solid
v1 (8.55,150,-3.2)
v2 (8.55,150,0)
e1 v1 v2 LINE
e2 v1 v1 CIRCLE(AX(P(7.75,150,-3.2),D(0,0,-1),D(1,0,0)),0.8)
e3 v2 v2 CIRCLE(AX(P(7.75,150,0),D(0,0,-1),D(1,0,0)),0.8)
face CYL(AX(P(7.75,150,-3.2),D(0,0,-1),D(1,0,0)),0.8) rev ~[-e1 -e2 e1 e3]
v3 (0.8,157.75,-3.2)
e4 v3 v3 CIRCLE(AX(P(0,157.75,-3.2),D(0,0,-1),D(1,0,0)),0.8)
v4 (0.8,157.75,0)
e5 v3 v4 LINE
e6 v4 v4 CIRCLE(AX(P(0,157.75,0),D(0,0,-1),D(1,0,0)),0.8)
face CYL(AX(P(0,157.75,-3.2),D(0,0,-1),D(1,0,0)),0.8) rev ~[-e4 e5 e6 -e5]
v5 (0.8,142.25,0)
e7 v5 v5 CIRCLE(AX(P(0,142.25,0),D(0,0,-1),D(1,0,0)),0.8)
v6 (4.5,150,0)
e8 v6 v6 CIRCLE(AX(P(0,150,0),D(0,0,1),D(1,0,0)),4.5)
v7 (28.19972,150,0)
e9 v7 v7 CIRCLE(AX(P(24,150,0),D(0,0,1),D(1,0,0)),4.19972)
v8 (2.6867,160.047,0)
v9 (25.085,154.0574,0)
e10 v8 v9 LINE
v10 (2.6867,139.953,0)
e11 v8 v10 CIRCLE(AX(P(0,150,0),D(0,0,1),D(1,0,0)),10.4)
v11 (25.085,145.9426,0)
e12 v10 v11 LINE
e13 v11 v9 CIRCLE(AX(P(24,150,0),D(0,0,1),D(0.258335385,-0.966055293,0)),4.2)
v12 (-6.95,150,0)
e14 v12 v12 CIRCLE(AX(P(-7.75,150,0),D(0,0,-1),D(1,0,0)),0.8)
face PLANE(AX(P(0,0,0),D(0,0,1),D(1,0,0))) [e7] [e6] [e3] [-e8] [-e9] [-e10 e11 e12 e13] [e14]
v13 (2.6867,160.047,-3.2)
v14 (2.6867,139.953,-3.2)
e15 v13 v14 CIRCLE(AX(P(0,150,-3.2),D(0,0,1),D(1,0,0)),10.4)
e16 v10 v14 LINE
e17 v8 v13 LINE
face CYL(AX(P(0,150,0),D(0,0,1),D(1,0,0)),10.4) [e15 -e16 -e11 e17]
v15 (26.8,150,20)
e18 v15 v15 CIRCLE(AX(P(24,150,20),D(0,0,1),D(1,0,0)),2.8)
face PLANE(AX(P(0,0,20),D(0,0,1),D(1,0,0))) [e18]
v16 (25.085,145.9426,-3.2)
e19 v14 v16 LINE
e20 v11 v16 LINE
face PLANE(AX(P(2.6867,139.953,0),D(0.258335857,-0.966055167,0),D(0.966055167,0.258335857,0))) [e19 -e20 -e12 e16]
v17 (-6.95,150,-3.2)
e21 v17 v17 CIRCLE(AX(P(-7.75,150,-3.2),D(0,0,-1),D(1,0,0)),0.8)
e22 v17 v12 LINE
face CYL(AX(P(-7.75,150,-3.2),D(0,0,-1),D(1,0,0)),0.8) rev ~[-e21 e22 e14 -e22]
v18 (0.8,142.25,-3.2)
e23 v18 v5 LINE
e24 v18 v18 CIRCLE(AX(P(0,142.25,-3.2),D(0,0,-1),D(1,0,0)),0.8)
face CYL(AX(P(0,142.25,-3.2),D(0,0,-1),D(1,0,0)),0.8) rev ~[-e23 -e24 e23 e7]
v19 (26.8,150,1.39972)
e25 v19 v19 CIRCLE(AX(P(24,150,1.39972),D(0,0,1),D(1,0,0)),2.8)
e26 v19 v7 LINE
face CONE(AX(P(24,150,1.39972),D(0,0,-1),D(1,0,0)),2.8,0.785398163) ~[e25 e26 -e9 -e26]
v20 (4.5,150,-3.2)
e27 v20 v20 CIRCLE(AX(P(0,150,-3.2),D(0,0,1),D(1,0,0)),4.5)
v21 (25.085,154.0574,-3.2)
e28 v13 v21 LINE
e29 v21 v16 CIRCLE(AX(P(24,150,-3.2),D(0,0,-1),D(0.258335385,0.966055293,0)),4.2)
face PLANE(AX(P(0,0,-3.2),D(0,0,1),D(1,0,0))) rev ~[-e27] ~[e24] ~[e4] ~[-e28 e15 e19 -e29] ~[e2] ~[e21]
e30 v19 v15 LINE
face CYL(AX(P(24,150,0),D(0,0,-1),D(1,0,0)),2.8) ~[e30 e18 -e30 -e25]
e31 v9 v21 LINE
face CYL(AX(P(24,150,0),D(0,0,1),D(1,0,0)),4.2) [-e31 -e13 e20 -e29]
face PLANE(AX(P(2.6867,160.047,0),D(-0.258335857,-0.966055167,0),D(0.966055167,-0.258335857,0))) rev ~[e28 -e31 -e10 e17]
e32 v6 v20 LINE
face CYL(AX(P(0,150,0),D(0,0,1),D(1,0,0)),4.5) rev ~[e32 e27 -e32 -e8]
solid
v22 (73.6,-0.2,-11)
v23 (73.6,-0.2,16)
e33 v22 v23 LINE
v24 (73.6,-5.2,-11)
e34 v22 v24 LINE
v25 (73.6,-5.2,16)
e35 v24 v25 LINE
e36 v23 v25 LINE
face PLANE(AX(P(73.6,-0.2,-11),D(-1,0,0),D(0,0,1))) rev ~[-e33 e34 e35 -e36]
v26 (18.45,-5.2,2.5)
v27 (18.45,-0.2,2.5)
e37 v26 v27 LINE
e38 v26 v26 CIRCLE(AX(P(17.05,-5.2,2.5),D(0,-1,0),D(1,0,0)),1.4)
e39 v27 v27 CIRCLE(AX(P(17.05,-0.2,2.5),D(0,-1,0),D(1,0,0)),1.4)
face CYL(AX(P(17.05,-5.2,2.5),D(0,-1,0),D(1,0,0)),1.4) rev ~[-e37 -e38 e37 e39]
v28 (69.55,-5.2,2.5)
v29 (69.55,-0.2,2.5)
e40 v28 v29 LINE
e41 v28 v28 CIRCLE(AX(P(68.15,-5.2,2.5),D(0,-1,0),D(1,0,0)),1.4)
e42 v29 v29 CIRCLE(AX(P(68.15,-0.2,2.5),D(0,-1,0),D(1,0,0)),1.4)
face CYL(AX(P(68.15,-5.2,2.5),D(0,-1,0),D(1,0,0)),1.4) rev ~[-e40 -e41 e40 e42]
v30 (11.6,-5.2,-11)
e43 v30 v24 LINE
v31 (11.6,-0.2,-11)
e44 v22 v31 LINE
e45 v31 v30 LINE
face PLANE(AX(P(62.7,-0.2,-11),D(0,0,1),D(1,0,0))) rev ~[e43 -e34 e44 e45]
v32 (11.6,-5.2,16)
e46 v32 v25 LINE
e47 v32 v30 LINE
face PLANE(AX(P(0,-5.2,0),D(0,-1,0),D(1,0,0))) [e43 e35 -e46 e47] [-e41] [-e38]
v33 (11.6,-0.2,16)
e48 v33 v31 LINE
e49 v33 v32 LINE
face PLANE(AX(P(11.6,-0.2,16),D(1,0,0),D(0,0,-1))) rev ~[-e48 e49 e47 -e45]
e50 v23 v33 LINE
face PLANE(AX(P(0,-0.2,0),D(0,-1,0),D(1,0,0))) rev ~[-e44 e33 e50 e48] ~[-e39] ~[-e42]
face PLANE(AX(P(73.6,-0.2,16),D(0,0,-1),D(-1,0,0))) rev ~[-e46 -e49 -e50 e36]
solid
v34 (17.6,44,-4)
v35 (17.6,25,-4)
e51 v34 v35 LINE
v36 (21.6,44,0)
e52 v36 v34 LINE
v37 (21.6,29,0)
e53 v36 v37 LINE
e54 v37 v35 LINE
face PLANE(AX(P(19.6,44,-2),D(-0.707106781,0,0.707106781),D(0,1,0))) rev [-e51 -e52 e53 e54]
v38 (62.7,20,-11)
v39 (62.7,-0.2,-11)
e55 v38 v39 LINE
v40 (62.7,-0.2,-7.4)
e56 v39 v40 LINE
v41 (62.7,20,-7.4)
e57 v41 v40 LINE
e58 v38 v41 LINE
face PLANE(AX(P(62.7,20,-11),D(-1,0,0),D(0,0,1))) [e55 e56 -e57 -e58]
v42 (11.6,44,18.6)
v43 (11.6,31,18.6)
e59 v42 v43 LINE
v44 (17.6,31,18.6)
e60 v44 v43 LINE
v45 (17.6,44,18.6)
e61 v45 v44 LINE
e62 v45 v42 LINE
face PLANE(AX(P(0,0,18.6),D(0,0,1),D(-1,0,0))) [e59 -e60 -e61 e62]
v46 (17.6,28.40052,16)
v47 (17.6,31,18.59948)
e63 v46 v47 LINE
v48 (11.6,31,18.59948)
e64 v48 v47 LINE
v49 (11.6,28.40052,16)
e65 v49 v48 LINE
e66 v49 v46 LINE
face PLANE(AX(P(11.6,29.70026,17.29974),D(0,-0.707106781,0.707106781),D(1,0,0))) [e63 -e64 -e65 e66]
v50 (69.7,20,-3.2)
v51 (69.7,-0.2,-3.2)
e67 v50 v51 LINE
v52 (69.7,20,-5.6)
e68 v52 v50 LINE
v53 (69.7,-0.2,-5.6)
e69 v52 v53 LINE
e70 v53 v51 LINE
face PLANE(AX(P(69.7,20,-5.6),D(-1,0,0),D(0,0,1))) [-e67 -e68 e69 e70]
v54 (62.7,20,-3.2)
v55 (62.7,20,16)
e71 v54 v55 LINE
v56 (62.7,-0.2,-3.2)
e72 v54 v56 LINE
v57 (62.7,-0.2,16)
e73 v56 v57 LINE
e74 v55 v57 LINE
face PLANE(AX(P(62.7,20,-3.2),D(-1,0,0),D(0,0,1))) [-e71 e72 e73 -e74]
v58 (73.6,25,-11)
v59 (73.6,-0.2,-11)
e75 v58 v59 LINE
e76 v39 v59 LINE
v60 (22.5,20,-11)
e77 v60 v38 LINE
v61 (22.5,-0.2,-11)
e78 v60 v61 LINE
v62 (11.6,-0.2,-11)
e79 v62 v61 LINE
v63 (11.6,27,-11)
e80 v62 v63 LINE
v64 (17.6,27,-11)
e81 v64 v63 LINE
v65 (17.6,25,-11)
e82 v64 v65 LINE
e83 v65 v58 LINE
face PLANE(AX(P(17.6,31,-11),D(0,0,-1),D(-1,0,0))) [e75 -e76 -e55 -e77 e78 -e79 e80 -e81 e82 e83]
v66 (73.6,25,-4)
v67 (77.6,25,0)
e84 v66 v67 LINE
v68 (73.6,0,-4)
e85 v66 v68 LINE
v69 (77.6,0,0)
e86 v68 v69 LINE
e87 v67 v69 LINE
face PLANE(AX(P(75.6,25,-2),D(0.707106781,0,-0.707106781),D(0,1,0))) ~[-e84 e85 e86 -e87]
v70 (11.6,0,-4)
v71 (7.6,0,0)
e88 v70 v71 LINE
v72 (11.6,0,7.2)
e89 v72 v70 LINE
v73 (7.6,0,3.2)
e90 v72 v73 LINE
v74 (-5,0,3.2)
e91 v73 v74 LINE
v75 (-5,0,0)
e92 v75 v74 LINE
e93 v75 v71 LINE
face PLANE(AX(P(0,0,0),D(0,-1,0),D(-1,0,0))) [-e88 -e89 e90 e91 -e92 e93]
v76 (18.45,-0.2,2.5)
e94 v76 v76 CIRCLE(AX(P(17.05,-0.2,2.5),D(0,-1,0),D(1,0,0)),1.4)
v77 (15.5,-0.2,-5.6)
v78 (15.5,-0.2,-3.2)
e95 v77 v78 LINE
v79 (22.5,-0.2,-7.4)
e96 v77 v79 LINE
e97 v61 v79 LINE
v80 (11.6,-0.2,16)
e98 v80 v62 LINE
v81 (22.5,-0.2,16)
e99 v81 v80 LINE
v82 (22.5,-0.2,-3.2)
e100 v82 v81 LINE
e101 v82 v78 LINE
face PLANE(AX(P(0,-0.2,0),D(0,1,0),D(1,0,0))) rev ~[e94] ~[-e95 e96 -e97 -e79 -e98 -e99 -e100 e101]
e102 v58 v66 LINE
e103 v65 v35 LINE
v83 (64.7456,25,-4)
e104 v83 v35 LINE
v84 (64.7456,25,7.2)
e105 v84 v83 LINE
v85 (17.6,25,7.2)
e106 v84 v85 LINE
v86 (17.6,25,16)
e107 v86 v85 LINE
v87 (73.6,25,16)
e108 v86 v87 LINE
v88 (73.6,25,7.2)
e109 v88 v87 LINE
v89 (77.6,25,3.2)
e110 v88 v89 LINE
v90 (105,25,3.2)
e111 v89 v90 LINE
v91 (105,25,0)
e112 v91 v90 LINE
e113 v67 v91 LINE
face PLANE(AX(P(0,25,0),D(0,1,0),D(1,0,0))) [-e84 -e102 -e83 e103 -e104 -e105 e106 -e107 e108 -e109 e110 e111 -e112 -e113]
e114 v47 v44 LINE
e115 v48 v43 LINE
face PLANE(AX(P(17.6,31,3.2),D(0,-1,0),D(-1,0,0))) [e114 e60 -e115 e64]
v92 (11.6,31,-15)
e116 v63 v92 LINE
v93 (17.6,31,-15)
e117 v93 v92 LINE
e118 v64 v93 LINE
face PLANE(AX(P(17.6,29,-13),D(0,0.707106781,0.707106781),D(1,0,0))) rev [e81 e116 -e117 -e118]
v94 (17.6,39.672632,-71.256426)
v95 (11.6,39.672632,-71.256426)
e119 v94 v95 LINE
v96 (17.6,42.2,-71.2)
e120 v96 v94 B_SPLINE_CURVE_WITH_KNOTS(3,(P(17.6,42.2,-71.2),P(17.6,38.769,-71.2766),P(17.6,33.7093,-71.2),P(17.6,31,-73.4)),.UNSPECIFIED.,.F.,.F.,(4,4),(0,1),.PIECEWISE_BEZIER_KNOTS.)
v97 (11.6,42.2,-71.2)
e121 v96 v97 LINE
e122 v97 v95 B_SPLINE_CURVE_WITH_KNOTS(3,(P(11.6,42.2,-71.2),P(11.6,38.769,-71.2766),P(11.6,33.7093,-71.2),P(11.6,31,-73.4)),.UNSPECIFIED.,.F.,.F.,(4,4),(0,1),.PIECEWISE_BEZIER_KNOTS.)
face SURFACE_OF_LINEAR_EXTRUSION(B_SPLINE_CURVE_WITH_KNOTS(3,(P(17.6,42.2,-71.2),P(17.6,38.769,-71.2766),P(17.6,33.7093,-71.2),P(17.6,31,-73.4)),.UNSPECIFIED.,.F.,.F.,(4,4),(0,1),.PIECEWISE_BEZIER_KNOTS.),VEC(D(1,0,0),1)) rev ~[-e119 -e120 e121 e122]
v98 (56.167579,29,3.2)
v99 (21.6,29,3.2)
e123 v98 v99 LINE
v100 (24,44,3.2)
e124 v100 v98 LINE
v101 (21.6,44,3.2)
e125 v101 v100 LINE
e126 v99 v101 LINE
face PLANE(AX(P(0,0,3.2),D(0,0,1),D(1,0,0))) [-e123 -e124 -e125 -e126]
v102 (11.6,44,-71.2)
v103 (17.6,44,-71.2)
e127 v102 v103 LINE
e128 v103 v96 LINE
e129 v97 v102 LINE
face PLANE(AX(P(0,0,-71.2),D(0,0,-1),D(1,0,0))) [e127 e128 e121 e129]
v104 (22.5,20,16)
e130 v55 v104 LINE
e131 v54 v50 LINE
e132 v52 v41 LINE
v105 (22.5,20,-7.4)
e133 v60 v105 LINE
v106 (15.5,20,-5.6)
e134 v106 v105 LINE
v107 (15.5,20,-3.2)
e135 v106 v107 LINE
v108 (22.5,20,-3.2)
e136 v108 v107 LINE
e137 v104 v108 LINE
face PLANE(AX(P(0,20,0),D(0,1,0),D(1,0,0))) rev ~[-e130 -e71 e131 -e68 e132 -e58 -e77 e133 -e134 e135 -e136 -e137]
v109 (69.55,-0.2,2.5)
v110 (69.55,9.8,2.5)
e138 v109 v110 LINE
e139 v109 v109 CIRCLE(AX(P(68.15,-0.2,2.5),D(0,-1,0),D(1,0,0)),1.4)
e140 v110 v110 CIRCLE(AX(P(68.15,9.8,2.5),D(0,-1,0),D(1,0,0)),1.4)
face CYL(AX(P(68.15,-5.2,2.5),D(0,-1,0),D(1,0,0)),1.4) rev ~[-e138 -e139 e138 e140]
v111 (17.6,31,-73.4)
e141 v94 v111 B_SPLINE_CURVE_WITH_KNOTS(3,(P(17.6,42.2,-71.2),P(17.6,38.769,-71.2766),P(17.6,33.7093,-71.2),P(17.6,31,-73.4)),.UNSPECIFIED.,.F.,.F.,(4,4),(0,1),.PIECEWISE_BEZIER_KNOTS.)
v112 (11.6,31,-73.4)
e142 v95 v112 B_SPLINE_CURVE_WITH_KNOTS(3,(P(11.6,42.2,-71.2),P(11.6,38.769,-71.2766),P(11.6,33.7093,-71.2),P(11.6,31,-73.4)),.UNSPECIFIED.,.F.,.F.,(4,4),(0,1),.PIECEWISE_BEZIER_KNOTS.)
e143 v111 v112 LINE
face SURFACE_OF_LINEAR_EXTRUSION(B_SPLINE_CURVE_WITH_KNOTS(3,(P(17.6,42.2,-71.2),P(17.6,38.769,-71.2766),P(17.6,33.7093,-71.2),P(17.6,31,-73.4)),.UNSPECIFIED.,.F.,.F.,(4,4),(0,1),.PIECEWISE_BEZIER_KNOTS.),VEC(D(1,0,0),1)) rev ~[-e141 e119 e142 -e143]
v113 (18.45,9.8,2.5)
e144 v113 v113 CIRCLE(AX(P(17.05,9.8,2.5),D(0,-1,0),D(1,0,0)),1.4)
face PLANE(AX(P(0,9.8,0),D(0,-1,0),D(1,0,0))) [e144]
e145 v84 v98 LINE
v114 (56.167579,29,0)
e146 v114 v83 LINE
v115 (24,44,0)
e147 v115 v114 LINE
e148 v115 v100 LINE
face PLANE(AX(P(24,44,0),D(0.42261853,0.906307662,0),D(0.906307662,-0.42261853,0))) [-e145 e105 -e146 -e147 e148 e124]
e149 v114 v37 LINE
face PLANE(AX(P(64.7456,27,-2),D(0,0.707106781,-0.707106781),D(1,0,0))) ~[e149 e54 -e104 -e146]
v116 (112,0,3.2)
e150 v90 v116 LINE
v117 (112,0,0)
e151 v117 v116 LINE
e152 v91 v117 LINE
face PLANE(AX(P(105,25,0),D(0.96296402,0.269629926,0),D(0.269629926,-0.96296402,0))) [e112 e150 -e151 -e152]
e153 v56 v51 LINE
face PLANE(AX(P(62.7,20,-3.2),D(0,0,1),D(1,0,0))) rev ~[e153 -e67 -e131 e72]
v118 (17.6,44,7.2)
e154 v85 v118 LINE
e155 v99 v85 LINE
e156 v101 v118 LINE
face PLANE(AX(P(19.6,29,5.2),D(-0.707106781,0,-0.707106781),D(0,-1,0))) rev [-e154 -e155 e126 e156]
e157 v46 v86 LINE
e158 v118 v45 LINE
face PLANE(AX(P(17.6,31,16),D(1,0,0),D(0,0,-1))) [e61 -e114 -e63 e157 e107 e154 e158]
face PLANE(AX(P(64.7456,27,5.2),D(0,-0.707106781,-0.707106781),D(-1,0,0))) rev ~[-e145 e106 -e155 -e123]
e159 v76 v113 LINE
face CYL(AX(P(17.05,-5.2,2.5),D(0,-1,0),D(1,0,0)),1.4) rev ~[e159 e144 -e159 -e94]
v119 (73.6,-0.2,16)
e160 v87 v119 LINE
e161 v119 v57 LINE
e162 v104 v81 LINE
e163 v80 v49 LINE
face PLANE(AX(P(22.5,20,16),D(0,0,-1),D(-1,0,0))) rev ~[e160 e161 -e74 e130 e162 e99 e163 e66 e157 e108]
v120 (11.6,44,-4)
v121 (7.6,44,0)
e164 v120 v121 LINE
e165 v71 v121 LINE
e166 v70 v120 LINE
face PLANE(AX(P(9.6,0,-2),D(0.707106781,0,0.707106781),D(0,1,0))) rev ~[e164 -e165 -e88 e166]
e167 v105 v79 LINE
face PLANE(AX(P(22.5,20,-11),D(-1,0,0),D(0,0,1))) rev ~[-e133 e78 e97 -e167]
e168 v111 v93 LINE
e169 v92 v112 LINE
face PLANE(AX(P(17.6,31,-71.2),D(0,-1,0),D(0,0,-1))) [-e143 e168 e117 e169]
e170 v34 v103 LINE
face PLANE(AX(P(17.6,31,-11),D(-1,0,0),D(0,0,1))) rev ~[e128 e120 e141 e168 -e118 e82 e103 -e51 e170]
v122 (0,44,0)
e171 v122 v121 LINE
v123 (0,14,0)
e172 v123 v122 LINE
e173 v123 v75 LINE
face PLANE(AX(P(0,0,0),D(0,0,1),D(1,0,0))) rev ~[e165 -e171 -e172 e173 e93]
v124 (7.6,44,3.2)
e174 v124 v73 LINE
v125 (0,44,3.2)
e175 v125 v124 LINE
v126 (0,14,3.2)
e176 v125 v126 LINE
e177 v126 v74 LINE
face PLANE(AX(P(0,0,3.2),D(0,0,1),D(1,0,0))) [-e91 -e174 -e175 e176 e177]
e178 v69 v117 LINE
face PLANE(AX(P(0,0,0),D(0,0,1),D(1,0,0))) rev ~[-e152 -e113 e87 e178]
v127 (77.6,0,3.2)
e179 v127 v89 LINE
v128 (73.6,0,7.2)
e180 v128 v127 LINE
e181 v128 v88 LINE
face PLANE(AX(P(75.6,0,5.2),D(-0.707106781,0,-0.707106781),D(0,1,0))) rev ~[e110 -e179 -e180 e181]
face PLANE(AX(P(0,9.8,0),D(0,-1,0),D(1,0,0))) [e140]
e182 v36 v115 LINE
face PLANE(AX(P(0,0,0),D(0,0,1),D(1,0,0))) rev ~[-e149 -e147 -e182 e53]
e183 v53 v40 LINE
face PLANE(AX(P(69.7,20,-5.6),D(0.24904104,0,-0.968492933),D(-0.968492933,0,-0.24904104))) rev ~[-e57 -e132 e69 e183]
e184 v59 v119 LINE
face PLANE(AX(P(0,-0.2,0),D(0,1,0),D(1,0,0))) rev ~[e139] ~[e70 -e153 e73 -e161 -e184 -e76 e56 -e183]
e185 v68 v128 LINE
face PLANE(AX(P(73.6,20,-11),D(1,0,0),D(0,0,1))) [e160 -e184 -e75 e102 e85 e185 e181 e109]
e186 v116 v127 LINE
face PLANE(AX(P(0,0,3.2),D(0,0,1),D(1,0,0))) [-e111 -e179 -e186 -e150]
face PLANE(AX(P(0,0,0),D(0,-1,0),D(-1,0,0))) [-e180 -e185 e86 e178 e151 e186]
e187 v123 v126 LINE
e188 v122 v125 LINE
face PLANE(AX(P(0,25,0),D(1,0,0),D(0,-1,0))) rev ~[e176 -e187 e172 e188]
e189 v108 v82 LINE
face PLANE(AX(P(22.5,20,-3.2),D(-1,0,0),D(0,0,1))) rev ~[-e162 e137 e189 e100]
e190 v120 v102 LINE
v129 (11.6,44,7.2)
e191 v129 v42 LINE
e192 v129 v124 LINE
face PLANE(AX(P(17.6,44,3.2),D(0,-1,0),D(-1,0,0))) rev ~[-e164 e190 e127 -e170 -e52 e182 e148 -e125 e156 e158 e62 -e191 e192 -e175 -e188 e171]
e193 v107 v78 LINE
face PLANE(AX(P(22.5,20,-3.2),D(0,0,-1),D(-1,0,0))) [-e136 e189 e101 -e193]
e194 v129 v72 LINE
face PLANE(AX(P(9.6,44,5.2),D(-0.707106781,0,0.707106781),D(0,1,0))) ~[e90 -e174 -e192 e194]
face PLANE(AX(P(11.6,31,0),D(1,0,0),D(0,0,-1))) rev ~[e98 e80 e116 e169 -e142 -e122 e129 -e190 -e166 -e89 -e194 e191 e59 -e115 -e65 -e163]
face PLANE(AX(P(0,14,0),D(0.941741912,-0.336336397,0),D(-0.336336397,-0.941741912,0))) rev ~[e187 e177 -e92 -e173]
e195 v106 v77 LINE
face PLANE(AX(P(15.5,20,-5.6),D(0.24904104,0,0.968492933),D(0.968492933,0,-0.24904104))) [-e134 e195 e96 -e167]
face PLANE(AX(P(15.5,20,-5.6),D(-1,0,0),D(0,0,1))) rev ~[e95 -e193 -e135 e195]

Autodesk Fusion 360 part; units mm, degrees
sketch "BasePlate" plane through (0, 0, 0) normal (0, 0, 1) x (1, 0, 0) in component "JawServoMount"
  line L0 (0, 0) -> (105, 0)
  line L1 (105, 0) -> (105, 25) construction
  line L2 (105, 25) -> (0, 25) construction
  line L3 (0, 25) -> (0, 14)
  line L4 (0, 14) -> (-5, 0)
  line L5 (0, 0) -> (0, 14) construction
  line L6 (0, 0) -> (-5, 0)
  line L7 (105, 25) -> (112, 0)
  line L8 (112, 0) -> (105, 0)
  line L9 (0, 25) -> (0, 44)
  line L10 (0, 44) -> (24, 44)
  line L11 (24, 44) -> (64.7456, 25)
  line L12 (64.7456, 25) -> (105, 25)
  dimension "d1" = 105
  dimension "d2" = 25
  dimension "d3" = 5
  dimension "d4" = 11
  dimension "d7" = 7
  dimension "d8" = 155
  dimension "d9" = 19
  dimension "d10" = 24
extrude "ExtrudeBasePlate" add sketch "BasePlate" along normal blind 3.2 makes body 1 in component "JawServoMount"
sketch "Sketch1" plane through (0, 0, 0) normal (0, 0, -1) x (1, 0, 0)
  line L0 (0, -14) -> (0, -44)
  line L1 (0, -44) -> (24, -44)
  line L2 (24, -44) -> (64.7456, -25)
  line L3 (64.7456, -25) -> (105, -25)
  line L4 (105, -25) -> (112, 0)
  line L5 (112, 0) -> (-5, 0)
  line L6 (-5, 0) -> (0, -14)
sketch "CrossBeam" plane through (0, 0, 0) normal (0, 0, -1) x (1, 0, 0) in component "JawServoMount"
  line L0 (11.6, -44) -> (17.6, -44)
  line L1 (17.6, -44) -> (17.6, -31)
  line L2 (17.6, -31) -> (11.6, -31)
  line L3 (11.6, -31) -> (11.6, -44)
  line L4 (0, -44) -> (24, -44)
  line L5 (0, -14) -> (0, -44)
  point P0 (24, -44)
  dimension "d15" = 6
  dimension "d16" = 13
  dimension "d17" = 11.6
extrude "ExtrudeCrossBean" add sketch "CrossBeam" along normal blind 71.2 bodies 1 in component "JawServoMount"
sketch "CrossBeamEnd" plane through (17.6, 0, 0) normal (1, 0, 0) x (0, 1, 0) in component "JawServoMount"
  line L0 (31, 0) -> (31, -71.2)
  line L1 (31, -71.2) -> (44, -71.2)
  line L2 (44, -71.2) -> (44, 0)
  line L3 (31, -71.2) -> (31, -73.4)
  line L4 (42.2, -71.2) -> (38.769, -71.2766)
  line L5 (38.769, -71.2766) -> (33.7093, -71.2)
  line L6 (33.7093, -71.2) -> (31, -73.4)
  spline S0 degree 3 poles (42.2, -71.2) (38.769, -71.2766) (33.7093, -71.2) (31, -73.4) knots 0 0 0 0 1 1 1 1
  line L7 (44, 0) -> (31, 0)
  point P0 (42.2, -71.2)
  dimension "d19" = 2.2
  dimension "d20" = 1.8
extrude "ExtrudeCrossBeamEnd" add sketch "CrossBeamEnd" against normal up to surface (6 mm away) contours L1 L3 L6 | L1 L4 L5 S0 | L4 L5 L6 S0 bodies 1 in component "JawServoMount"
ref_plane "WorkPlane1" through (0, 20, 0) normal (0, 1, 0) x (0, 0, 1) in component "JawServoMount"
sketch "ServoBase" plane through (0, 20, 0) normal (0, 1, 0) x (1, 0, 0) in component "JawServoMount"
  line L0 (11.6, 11) -> (73.6, 11)
  line L1 (73.6, 11) -> (73.6, -16)
  line L2 (73.6, -16) -> (11.6, -16)
  line L3 (11.6, -16) -> (11.6, 11)
  line L4 (11.6, 5.6) -> (73.6, 5.6) construction
  line L5 (11.6, 3.2) -> (73.6, 3.2) construction
  line L6 (22.5, 11) -> (22.5, -16)
  line L7 (62.7, 11) -> (62.7, -16)
  line L8 (11.6, -17.2714) -> (22.5, -17.2714) construction
  line L9 (62.7, -17.2714) -> (73.6, -17.2714) construction
  line L10 (42.6, 11) -> (42.6, -16) construction
  line L11 (22.5, 3.2) -> (15.5, 3.2)
  line L12 (15.5, 5.6) -> (22.5, 7.4)
  line L13 (15.5, 5.6) -> (15.5, 3.2)
  line L14 (69.7, 5.6) -> (62.7, 7.4)
  line L15 (69.7, 5.6) -> (69.7, 3.2)
  line L16 (62.7, 3.2) -> (69.7, 3.2)
  point P0 (22.5, 5.6)
  point P1 (22.5, 7.4)
  dimension "d27" = 11.6
  dimension "d28" = 11
  dimension "d29" = 62
  dimension "d30" = 27
  dimension "d31" = 5.4
  dimension "d32" = 2.4
  dimension "d33" = 40.2
  dimension "d34" = 7
  dimension "d35" = 1.8
extrude "ExtrudeServoTopBottom" add sketch "ServoBase" against normal blind 20.2 contours L0 L2 L3 L6 L11 L12 L13 | L0 L1 L2 L7 L14 L15 L16 bodies 1 in component "JawServoMount"
extrude "CutServoMainPart" cut sketch "ServoBase" against normal up to surface (20.2 mm away) contours L0 L2 L6 L7 | L6 L11 L12 L13 | L7 L14 L15 L16 bodies 1 in component "JawServoMount"
extrude "ExtrudeServoBase" add sketch "ServoBase" along normal blind 5 bodies 1 in component "JawServoMount"
sketch "OtherCrossBeam" plane through (0, 0, 3.2) normal (0, 0, 1) x (-1, 0, 0) in component "JawServoMount"
  line L0 (-64.7456, -25) -> (-24, -44)
  line L1 (-24, -44) -> (0, -44)
  line L2 (0, -44) -> (0, -14)
  line L3 (0, -14) -> (5, 0)
  line L4 (-11.6, -31) -> (-11.6, -42.2)
  line L5 (-11.6, -42.2) -> (-11.6, -44)
  line L6 (-11.6, -44) -> (-17.6, -44)
  line L7 (-17.6, -44) -> (-17.6, -42.2)
  line L8 (-17.6, -42.2) -> (-17.6, -31)
  line L9 (-17.6, -31) -> (-11.6, -31)
  line L10 (-11.6, 0) -> (-11.6, -25)
  line L11 (-11.6, -25) -> (-64.7456, -25)
  line L12 (5, 0) -> (-11.6, 0)
extrude "ExtrudeOtherCrossBeam" add sketch "OtherCrossBeam" along normal blind 15.4 contours L1 L4 L5 L6 L7 L8 L9 bodies 1 in component "JawServoMount"
sketch "ServoScrewHoles" plane through (0, -0.2, 0) normal (0, -1, 0) x (1, 0, 0) in component "JawServoMount"
  line L0 (15.5, -3.2) -> (22.5, -3.2)
  line L1 (22.5, -3.2) -> (22.5, 16)
  line L2 (22.5, 16) -> (11.6, 16)
  line L3 (11.6, 16) -> (11.6, -11)
  line L4 (11.6, -11) -> (22.5, -11)
  line L5 (22.5, -11) -> (22.5, -7.4)
  line L6 (22.5, -7.4) -> (15.5, -5.6)
  line L7 (15.5, -5.6) -> (15.5, -3.2)
  line L8 (62.7, 16) -> (22.5, 16) construction
  line L9 (22.5, -11) -> (62.7, -11) construction
  line L10 (42.6, 16) -> (42.6, -11) construction
  line L11 (11.6, 16) -> (22.5, -11) construction
  line L12 (22.5, 16) -> (11.6, -11) construction
  circle A0 centre (17.05, 2.5) radius 1.4
  circle A1 centre (68.15, 2.5) radius 1.4
  dimension "d45" = 2.8
sketch "JoinCrossBeamToServoHolder" plane through (0, 31, 0) normal (0, -1, 0) x (1, 0, 0) in component "JawServoMount"
  line L0 (17.6, 0) -> (11.6, 0)
  line L1 (11.6, 0) -> (11.6, -73.4)
  line L2 (11.6, -73.4) -> (17.6, -73.4)
  line L3 (17.6, -73.4) -> (17.6, 0)
  line L4 (17.6, -11) -> (11.6, -11)
  line L5 (11.6, -11) -> (11.6, 16)
  line L6 (11.6, 16) -> (17.6, 16)
  line L7 (17.6, 16) -> (17.6, -11)
  point P0 (11.6, 16)
extrude "Extrude10" add sketch "JoinCrossBeamToServoHolder" along normal up to surface (6 mm away) contours L0 L1 L3 L4 L5 L7 | L0 L5 L6 L7 bodies 1 in component "JawServoMount"
chamfer "Chamfer3" distance 4 angle 45 9 edges at (11.6, 22, 0) (73.6, 12.5, 0) (73.6, 12.5, 3.2) (11.6, 22, 3.2) (41.1728, 25, 0) (41.1728, 25, 3.2) (17.6, 34.5, 0) (17.6, 34.5, 3.2) (14.6, 31, -11) on bodies 1 in component "JawServoMount"
chamfer "Chamfer3" distance 2.6 angle 45 1 edges at (14.6, 31, 16) on bodies 1 in component "JawServoMount"
sketch "Base" plane through (0, -0.2, 0) normal (0, -1, 0) x (1, 0, 0) in component "ServoLid"
  line L0 (62.7, -7.4) -> (62.7, -11)
  line L1 (62.7, -11) -> (73.6, -11)
  line L2 (73.6, -11) -> (73.6, 16)
  line L3 (73.6, 16) -> (62.7, 16)
  line L4 (62.7, 16) -> (62.7, -3.2)
  line L5 (62.7, -3.2) -> (69.7, -3.2)
  line L6 (69.7, -3.2) -> (69.7, -5.6)
  line L7 (69.7, -5.6) -> (62.7, -7.4)
  line L8 (73.6, 16) -> (11.6, 16)
  line L9 (11.6, 16) -> (11.6, -11)
  line L10 (11.6, -11) -> (73.6, -11)
  line L11 (73.6, -11) -> (73.6, 16)
  point P0 (11.6, -11)
extrude "ExtrudePlate" add sketch "Base" along normal blind 5 separate body makes body 2 in component "ServoLid"
extrude "CutScrewHoles" cut sketch "ServoScrewHoles" along normal blind -10 and the other way up to surface (-5 mm away) contours A0 | A1 bodies 1 in component "JawServoMount"
extrude "Extrude2" cut sketch "ServoScrewHoles" along normal blind -10 and the other way up to surface (-5 mm away) contours A0 | A1 bodies 2 in component "ServoLid"
sketch "Base (2)" plane through (0, 0, 0) normal (0, 0, 1) x (1, 0, 0) in component "ServoArm"
  circle A0 centre (0, 150) radius 10.4
  circle A1 centre (0, 150) radius 4.5
  circle A2 centre (24, 150) radius 4.2
  line L0 (2.6867, 160.047) -> (25.085, 154.0574)
  line L1 (2.6867, 139.953) -> (25.085, 145.9426)
  point P0 (0, 150)
  dimension "d61" = 150
  dimension "d62" = 20.8
  dimension "d63" = 9
  dimension "d72" = 8.4
  dimension "d73" = 24
extrude "ExtrudeBase" add sketch "Base (2)" against normal blind 3.2 separate body makes body 3 in component "ServoArm"
sketch "ScrewHoles" plane through (0, 0, -3.2) normal (0, 0, -1) x (1, 0, 0) in component "ServoArm"
  circle A0 centre (0, -150) radius 4.5
  circle A1 centre (0, -142.25) radius 0.8
  circle A2 centre (-7.75, -150) radius 0.8
  circle A3 centre (0, -157.75) radius 0.8
  circle A4 centre (7.75, -150) radius 0.8
  arc A5 (2.6867, -139.953) -> (2.6867, -160.047) centre (0, -150) ccw
  line L0 (2.6867, -160.047) -> (25.085, -154.0574)
  arc A6 (25.085, -154.0574) -> (25.085, -145.9426) centre (24, -150) ccw
  line L1 (25.085, -145.9426) -> (2.6867, -139.953)
  point P0 (0, -142.25)
  point P1 (0, -150)
  dimension "d66" = 7.75
  dimension "d67" = 1.6
  dimension "d69" = 360
extrude "ExtrudeSmallScrewHoles" cut sketch "ScrewHoles" against normal up to surface (3.2 mm away) contours A1 | A2 | A3 | A4 bodies 3 in component "ServoArm"
sketch "Pin" plane through (0, 0, 0) normal (0, 0, 1) x (1, 0, 0) in component "ServoArm"
  circle A0 centre (24, 150) radius 2.8
  point P0 (24, 150)
  dimension "d74" = 5.6
extrude "ExtrudePin" add sketch "Pin" along normal blind 20 bodies 3 in component "ServoArm"
chamfer "Chamfer1" distance 1.4 angle 45 1 edges at (21.3895, 151.0125, 0) on bodies 3 in component "ServoArm"
component "JawServoMount" placed x (1, 0, 0) y (0, 1, 0) z (0, 0, 1) at (0, 0, 0)
component "ServoLid" placed x (1, 0, 0) y (0, 1, 0) z (0, 0, 1) at (0, 0, 0)
component "ServoArm" placed x (1, 0, 0) y (0, 1, 0) z (0, 0, 1) at (0, 0, 0)
equation "servo_offset_down = 20 mm"
equation "servo_offset_back = 11.6 mm"
equation "servo_offset_left = 11 mm"
equation "d26 = servo_offset_down"
equation "d27 = servo_offset_back"
equation "d28 = servo_offset_left"
